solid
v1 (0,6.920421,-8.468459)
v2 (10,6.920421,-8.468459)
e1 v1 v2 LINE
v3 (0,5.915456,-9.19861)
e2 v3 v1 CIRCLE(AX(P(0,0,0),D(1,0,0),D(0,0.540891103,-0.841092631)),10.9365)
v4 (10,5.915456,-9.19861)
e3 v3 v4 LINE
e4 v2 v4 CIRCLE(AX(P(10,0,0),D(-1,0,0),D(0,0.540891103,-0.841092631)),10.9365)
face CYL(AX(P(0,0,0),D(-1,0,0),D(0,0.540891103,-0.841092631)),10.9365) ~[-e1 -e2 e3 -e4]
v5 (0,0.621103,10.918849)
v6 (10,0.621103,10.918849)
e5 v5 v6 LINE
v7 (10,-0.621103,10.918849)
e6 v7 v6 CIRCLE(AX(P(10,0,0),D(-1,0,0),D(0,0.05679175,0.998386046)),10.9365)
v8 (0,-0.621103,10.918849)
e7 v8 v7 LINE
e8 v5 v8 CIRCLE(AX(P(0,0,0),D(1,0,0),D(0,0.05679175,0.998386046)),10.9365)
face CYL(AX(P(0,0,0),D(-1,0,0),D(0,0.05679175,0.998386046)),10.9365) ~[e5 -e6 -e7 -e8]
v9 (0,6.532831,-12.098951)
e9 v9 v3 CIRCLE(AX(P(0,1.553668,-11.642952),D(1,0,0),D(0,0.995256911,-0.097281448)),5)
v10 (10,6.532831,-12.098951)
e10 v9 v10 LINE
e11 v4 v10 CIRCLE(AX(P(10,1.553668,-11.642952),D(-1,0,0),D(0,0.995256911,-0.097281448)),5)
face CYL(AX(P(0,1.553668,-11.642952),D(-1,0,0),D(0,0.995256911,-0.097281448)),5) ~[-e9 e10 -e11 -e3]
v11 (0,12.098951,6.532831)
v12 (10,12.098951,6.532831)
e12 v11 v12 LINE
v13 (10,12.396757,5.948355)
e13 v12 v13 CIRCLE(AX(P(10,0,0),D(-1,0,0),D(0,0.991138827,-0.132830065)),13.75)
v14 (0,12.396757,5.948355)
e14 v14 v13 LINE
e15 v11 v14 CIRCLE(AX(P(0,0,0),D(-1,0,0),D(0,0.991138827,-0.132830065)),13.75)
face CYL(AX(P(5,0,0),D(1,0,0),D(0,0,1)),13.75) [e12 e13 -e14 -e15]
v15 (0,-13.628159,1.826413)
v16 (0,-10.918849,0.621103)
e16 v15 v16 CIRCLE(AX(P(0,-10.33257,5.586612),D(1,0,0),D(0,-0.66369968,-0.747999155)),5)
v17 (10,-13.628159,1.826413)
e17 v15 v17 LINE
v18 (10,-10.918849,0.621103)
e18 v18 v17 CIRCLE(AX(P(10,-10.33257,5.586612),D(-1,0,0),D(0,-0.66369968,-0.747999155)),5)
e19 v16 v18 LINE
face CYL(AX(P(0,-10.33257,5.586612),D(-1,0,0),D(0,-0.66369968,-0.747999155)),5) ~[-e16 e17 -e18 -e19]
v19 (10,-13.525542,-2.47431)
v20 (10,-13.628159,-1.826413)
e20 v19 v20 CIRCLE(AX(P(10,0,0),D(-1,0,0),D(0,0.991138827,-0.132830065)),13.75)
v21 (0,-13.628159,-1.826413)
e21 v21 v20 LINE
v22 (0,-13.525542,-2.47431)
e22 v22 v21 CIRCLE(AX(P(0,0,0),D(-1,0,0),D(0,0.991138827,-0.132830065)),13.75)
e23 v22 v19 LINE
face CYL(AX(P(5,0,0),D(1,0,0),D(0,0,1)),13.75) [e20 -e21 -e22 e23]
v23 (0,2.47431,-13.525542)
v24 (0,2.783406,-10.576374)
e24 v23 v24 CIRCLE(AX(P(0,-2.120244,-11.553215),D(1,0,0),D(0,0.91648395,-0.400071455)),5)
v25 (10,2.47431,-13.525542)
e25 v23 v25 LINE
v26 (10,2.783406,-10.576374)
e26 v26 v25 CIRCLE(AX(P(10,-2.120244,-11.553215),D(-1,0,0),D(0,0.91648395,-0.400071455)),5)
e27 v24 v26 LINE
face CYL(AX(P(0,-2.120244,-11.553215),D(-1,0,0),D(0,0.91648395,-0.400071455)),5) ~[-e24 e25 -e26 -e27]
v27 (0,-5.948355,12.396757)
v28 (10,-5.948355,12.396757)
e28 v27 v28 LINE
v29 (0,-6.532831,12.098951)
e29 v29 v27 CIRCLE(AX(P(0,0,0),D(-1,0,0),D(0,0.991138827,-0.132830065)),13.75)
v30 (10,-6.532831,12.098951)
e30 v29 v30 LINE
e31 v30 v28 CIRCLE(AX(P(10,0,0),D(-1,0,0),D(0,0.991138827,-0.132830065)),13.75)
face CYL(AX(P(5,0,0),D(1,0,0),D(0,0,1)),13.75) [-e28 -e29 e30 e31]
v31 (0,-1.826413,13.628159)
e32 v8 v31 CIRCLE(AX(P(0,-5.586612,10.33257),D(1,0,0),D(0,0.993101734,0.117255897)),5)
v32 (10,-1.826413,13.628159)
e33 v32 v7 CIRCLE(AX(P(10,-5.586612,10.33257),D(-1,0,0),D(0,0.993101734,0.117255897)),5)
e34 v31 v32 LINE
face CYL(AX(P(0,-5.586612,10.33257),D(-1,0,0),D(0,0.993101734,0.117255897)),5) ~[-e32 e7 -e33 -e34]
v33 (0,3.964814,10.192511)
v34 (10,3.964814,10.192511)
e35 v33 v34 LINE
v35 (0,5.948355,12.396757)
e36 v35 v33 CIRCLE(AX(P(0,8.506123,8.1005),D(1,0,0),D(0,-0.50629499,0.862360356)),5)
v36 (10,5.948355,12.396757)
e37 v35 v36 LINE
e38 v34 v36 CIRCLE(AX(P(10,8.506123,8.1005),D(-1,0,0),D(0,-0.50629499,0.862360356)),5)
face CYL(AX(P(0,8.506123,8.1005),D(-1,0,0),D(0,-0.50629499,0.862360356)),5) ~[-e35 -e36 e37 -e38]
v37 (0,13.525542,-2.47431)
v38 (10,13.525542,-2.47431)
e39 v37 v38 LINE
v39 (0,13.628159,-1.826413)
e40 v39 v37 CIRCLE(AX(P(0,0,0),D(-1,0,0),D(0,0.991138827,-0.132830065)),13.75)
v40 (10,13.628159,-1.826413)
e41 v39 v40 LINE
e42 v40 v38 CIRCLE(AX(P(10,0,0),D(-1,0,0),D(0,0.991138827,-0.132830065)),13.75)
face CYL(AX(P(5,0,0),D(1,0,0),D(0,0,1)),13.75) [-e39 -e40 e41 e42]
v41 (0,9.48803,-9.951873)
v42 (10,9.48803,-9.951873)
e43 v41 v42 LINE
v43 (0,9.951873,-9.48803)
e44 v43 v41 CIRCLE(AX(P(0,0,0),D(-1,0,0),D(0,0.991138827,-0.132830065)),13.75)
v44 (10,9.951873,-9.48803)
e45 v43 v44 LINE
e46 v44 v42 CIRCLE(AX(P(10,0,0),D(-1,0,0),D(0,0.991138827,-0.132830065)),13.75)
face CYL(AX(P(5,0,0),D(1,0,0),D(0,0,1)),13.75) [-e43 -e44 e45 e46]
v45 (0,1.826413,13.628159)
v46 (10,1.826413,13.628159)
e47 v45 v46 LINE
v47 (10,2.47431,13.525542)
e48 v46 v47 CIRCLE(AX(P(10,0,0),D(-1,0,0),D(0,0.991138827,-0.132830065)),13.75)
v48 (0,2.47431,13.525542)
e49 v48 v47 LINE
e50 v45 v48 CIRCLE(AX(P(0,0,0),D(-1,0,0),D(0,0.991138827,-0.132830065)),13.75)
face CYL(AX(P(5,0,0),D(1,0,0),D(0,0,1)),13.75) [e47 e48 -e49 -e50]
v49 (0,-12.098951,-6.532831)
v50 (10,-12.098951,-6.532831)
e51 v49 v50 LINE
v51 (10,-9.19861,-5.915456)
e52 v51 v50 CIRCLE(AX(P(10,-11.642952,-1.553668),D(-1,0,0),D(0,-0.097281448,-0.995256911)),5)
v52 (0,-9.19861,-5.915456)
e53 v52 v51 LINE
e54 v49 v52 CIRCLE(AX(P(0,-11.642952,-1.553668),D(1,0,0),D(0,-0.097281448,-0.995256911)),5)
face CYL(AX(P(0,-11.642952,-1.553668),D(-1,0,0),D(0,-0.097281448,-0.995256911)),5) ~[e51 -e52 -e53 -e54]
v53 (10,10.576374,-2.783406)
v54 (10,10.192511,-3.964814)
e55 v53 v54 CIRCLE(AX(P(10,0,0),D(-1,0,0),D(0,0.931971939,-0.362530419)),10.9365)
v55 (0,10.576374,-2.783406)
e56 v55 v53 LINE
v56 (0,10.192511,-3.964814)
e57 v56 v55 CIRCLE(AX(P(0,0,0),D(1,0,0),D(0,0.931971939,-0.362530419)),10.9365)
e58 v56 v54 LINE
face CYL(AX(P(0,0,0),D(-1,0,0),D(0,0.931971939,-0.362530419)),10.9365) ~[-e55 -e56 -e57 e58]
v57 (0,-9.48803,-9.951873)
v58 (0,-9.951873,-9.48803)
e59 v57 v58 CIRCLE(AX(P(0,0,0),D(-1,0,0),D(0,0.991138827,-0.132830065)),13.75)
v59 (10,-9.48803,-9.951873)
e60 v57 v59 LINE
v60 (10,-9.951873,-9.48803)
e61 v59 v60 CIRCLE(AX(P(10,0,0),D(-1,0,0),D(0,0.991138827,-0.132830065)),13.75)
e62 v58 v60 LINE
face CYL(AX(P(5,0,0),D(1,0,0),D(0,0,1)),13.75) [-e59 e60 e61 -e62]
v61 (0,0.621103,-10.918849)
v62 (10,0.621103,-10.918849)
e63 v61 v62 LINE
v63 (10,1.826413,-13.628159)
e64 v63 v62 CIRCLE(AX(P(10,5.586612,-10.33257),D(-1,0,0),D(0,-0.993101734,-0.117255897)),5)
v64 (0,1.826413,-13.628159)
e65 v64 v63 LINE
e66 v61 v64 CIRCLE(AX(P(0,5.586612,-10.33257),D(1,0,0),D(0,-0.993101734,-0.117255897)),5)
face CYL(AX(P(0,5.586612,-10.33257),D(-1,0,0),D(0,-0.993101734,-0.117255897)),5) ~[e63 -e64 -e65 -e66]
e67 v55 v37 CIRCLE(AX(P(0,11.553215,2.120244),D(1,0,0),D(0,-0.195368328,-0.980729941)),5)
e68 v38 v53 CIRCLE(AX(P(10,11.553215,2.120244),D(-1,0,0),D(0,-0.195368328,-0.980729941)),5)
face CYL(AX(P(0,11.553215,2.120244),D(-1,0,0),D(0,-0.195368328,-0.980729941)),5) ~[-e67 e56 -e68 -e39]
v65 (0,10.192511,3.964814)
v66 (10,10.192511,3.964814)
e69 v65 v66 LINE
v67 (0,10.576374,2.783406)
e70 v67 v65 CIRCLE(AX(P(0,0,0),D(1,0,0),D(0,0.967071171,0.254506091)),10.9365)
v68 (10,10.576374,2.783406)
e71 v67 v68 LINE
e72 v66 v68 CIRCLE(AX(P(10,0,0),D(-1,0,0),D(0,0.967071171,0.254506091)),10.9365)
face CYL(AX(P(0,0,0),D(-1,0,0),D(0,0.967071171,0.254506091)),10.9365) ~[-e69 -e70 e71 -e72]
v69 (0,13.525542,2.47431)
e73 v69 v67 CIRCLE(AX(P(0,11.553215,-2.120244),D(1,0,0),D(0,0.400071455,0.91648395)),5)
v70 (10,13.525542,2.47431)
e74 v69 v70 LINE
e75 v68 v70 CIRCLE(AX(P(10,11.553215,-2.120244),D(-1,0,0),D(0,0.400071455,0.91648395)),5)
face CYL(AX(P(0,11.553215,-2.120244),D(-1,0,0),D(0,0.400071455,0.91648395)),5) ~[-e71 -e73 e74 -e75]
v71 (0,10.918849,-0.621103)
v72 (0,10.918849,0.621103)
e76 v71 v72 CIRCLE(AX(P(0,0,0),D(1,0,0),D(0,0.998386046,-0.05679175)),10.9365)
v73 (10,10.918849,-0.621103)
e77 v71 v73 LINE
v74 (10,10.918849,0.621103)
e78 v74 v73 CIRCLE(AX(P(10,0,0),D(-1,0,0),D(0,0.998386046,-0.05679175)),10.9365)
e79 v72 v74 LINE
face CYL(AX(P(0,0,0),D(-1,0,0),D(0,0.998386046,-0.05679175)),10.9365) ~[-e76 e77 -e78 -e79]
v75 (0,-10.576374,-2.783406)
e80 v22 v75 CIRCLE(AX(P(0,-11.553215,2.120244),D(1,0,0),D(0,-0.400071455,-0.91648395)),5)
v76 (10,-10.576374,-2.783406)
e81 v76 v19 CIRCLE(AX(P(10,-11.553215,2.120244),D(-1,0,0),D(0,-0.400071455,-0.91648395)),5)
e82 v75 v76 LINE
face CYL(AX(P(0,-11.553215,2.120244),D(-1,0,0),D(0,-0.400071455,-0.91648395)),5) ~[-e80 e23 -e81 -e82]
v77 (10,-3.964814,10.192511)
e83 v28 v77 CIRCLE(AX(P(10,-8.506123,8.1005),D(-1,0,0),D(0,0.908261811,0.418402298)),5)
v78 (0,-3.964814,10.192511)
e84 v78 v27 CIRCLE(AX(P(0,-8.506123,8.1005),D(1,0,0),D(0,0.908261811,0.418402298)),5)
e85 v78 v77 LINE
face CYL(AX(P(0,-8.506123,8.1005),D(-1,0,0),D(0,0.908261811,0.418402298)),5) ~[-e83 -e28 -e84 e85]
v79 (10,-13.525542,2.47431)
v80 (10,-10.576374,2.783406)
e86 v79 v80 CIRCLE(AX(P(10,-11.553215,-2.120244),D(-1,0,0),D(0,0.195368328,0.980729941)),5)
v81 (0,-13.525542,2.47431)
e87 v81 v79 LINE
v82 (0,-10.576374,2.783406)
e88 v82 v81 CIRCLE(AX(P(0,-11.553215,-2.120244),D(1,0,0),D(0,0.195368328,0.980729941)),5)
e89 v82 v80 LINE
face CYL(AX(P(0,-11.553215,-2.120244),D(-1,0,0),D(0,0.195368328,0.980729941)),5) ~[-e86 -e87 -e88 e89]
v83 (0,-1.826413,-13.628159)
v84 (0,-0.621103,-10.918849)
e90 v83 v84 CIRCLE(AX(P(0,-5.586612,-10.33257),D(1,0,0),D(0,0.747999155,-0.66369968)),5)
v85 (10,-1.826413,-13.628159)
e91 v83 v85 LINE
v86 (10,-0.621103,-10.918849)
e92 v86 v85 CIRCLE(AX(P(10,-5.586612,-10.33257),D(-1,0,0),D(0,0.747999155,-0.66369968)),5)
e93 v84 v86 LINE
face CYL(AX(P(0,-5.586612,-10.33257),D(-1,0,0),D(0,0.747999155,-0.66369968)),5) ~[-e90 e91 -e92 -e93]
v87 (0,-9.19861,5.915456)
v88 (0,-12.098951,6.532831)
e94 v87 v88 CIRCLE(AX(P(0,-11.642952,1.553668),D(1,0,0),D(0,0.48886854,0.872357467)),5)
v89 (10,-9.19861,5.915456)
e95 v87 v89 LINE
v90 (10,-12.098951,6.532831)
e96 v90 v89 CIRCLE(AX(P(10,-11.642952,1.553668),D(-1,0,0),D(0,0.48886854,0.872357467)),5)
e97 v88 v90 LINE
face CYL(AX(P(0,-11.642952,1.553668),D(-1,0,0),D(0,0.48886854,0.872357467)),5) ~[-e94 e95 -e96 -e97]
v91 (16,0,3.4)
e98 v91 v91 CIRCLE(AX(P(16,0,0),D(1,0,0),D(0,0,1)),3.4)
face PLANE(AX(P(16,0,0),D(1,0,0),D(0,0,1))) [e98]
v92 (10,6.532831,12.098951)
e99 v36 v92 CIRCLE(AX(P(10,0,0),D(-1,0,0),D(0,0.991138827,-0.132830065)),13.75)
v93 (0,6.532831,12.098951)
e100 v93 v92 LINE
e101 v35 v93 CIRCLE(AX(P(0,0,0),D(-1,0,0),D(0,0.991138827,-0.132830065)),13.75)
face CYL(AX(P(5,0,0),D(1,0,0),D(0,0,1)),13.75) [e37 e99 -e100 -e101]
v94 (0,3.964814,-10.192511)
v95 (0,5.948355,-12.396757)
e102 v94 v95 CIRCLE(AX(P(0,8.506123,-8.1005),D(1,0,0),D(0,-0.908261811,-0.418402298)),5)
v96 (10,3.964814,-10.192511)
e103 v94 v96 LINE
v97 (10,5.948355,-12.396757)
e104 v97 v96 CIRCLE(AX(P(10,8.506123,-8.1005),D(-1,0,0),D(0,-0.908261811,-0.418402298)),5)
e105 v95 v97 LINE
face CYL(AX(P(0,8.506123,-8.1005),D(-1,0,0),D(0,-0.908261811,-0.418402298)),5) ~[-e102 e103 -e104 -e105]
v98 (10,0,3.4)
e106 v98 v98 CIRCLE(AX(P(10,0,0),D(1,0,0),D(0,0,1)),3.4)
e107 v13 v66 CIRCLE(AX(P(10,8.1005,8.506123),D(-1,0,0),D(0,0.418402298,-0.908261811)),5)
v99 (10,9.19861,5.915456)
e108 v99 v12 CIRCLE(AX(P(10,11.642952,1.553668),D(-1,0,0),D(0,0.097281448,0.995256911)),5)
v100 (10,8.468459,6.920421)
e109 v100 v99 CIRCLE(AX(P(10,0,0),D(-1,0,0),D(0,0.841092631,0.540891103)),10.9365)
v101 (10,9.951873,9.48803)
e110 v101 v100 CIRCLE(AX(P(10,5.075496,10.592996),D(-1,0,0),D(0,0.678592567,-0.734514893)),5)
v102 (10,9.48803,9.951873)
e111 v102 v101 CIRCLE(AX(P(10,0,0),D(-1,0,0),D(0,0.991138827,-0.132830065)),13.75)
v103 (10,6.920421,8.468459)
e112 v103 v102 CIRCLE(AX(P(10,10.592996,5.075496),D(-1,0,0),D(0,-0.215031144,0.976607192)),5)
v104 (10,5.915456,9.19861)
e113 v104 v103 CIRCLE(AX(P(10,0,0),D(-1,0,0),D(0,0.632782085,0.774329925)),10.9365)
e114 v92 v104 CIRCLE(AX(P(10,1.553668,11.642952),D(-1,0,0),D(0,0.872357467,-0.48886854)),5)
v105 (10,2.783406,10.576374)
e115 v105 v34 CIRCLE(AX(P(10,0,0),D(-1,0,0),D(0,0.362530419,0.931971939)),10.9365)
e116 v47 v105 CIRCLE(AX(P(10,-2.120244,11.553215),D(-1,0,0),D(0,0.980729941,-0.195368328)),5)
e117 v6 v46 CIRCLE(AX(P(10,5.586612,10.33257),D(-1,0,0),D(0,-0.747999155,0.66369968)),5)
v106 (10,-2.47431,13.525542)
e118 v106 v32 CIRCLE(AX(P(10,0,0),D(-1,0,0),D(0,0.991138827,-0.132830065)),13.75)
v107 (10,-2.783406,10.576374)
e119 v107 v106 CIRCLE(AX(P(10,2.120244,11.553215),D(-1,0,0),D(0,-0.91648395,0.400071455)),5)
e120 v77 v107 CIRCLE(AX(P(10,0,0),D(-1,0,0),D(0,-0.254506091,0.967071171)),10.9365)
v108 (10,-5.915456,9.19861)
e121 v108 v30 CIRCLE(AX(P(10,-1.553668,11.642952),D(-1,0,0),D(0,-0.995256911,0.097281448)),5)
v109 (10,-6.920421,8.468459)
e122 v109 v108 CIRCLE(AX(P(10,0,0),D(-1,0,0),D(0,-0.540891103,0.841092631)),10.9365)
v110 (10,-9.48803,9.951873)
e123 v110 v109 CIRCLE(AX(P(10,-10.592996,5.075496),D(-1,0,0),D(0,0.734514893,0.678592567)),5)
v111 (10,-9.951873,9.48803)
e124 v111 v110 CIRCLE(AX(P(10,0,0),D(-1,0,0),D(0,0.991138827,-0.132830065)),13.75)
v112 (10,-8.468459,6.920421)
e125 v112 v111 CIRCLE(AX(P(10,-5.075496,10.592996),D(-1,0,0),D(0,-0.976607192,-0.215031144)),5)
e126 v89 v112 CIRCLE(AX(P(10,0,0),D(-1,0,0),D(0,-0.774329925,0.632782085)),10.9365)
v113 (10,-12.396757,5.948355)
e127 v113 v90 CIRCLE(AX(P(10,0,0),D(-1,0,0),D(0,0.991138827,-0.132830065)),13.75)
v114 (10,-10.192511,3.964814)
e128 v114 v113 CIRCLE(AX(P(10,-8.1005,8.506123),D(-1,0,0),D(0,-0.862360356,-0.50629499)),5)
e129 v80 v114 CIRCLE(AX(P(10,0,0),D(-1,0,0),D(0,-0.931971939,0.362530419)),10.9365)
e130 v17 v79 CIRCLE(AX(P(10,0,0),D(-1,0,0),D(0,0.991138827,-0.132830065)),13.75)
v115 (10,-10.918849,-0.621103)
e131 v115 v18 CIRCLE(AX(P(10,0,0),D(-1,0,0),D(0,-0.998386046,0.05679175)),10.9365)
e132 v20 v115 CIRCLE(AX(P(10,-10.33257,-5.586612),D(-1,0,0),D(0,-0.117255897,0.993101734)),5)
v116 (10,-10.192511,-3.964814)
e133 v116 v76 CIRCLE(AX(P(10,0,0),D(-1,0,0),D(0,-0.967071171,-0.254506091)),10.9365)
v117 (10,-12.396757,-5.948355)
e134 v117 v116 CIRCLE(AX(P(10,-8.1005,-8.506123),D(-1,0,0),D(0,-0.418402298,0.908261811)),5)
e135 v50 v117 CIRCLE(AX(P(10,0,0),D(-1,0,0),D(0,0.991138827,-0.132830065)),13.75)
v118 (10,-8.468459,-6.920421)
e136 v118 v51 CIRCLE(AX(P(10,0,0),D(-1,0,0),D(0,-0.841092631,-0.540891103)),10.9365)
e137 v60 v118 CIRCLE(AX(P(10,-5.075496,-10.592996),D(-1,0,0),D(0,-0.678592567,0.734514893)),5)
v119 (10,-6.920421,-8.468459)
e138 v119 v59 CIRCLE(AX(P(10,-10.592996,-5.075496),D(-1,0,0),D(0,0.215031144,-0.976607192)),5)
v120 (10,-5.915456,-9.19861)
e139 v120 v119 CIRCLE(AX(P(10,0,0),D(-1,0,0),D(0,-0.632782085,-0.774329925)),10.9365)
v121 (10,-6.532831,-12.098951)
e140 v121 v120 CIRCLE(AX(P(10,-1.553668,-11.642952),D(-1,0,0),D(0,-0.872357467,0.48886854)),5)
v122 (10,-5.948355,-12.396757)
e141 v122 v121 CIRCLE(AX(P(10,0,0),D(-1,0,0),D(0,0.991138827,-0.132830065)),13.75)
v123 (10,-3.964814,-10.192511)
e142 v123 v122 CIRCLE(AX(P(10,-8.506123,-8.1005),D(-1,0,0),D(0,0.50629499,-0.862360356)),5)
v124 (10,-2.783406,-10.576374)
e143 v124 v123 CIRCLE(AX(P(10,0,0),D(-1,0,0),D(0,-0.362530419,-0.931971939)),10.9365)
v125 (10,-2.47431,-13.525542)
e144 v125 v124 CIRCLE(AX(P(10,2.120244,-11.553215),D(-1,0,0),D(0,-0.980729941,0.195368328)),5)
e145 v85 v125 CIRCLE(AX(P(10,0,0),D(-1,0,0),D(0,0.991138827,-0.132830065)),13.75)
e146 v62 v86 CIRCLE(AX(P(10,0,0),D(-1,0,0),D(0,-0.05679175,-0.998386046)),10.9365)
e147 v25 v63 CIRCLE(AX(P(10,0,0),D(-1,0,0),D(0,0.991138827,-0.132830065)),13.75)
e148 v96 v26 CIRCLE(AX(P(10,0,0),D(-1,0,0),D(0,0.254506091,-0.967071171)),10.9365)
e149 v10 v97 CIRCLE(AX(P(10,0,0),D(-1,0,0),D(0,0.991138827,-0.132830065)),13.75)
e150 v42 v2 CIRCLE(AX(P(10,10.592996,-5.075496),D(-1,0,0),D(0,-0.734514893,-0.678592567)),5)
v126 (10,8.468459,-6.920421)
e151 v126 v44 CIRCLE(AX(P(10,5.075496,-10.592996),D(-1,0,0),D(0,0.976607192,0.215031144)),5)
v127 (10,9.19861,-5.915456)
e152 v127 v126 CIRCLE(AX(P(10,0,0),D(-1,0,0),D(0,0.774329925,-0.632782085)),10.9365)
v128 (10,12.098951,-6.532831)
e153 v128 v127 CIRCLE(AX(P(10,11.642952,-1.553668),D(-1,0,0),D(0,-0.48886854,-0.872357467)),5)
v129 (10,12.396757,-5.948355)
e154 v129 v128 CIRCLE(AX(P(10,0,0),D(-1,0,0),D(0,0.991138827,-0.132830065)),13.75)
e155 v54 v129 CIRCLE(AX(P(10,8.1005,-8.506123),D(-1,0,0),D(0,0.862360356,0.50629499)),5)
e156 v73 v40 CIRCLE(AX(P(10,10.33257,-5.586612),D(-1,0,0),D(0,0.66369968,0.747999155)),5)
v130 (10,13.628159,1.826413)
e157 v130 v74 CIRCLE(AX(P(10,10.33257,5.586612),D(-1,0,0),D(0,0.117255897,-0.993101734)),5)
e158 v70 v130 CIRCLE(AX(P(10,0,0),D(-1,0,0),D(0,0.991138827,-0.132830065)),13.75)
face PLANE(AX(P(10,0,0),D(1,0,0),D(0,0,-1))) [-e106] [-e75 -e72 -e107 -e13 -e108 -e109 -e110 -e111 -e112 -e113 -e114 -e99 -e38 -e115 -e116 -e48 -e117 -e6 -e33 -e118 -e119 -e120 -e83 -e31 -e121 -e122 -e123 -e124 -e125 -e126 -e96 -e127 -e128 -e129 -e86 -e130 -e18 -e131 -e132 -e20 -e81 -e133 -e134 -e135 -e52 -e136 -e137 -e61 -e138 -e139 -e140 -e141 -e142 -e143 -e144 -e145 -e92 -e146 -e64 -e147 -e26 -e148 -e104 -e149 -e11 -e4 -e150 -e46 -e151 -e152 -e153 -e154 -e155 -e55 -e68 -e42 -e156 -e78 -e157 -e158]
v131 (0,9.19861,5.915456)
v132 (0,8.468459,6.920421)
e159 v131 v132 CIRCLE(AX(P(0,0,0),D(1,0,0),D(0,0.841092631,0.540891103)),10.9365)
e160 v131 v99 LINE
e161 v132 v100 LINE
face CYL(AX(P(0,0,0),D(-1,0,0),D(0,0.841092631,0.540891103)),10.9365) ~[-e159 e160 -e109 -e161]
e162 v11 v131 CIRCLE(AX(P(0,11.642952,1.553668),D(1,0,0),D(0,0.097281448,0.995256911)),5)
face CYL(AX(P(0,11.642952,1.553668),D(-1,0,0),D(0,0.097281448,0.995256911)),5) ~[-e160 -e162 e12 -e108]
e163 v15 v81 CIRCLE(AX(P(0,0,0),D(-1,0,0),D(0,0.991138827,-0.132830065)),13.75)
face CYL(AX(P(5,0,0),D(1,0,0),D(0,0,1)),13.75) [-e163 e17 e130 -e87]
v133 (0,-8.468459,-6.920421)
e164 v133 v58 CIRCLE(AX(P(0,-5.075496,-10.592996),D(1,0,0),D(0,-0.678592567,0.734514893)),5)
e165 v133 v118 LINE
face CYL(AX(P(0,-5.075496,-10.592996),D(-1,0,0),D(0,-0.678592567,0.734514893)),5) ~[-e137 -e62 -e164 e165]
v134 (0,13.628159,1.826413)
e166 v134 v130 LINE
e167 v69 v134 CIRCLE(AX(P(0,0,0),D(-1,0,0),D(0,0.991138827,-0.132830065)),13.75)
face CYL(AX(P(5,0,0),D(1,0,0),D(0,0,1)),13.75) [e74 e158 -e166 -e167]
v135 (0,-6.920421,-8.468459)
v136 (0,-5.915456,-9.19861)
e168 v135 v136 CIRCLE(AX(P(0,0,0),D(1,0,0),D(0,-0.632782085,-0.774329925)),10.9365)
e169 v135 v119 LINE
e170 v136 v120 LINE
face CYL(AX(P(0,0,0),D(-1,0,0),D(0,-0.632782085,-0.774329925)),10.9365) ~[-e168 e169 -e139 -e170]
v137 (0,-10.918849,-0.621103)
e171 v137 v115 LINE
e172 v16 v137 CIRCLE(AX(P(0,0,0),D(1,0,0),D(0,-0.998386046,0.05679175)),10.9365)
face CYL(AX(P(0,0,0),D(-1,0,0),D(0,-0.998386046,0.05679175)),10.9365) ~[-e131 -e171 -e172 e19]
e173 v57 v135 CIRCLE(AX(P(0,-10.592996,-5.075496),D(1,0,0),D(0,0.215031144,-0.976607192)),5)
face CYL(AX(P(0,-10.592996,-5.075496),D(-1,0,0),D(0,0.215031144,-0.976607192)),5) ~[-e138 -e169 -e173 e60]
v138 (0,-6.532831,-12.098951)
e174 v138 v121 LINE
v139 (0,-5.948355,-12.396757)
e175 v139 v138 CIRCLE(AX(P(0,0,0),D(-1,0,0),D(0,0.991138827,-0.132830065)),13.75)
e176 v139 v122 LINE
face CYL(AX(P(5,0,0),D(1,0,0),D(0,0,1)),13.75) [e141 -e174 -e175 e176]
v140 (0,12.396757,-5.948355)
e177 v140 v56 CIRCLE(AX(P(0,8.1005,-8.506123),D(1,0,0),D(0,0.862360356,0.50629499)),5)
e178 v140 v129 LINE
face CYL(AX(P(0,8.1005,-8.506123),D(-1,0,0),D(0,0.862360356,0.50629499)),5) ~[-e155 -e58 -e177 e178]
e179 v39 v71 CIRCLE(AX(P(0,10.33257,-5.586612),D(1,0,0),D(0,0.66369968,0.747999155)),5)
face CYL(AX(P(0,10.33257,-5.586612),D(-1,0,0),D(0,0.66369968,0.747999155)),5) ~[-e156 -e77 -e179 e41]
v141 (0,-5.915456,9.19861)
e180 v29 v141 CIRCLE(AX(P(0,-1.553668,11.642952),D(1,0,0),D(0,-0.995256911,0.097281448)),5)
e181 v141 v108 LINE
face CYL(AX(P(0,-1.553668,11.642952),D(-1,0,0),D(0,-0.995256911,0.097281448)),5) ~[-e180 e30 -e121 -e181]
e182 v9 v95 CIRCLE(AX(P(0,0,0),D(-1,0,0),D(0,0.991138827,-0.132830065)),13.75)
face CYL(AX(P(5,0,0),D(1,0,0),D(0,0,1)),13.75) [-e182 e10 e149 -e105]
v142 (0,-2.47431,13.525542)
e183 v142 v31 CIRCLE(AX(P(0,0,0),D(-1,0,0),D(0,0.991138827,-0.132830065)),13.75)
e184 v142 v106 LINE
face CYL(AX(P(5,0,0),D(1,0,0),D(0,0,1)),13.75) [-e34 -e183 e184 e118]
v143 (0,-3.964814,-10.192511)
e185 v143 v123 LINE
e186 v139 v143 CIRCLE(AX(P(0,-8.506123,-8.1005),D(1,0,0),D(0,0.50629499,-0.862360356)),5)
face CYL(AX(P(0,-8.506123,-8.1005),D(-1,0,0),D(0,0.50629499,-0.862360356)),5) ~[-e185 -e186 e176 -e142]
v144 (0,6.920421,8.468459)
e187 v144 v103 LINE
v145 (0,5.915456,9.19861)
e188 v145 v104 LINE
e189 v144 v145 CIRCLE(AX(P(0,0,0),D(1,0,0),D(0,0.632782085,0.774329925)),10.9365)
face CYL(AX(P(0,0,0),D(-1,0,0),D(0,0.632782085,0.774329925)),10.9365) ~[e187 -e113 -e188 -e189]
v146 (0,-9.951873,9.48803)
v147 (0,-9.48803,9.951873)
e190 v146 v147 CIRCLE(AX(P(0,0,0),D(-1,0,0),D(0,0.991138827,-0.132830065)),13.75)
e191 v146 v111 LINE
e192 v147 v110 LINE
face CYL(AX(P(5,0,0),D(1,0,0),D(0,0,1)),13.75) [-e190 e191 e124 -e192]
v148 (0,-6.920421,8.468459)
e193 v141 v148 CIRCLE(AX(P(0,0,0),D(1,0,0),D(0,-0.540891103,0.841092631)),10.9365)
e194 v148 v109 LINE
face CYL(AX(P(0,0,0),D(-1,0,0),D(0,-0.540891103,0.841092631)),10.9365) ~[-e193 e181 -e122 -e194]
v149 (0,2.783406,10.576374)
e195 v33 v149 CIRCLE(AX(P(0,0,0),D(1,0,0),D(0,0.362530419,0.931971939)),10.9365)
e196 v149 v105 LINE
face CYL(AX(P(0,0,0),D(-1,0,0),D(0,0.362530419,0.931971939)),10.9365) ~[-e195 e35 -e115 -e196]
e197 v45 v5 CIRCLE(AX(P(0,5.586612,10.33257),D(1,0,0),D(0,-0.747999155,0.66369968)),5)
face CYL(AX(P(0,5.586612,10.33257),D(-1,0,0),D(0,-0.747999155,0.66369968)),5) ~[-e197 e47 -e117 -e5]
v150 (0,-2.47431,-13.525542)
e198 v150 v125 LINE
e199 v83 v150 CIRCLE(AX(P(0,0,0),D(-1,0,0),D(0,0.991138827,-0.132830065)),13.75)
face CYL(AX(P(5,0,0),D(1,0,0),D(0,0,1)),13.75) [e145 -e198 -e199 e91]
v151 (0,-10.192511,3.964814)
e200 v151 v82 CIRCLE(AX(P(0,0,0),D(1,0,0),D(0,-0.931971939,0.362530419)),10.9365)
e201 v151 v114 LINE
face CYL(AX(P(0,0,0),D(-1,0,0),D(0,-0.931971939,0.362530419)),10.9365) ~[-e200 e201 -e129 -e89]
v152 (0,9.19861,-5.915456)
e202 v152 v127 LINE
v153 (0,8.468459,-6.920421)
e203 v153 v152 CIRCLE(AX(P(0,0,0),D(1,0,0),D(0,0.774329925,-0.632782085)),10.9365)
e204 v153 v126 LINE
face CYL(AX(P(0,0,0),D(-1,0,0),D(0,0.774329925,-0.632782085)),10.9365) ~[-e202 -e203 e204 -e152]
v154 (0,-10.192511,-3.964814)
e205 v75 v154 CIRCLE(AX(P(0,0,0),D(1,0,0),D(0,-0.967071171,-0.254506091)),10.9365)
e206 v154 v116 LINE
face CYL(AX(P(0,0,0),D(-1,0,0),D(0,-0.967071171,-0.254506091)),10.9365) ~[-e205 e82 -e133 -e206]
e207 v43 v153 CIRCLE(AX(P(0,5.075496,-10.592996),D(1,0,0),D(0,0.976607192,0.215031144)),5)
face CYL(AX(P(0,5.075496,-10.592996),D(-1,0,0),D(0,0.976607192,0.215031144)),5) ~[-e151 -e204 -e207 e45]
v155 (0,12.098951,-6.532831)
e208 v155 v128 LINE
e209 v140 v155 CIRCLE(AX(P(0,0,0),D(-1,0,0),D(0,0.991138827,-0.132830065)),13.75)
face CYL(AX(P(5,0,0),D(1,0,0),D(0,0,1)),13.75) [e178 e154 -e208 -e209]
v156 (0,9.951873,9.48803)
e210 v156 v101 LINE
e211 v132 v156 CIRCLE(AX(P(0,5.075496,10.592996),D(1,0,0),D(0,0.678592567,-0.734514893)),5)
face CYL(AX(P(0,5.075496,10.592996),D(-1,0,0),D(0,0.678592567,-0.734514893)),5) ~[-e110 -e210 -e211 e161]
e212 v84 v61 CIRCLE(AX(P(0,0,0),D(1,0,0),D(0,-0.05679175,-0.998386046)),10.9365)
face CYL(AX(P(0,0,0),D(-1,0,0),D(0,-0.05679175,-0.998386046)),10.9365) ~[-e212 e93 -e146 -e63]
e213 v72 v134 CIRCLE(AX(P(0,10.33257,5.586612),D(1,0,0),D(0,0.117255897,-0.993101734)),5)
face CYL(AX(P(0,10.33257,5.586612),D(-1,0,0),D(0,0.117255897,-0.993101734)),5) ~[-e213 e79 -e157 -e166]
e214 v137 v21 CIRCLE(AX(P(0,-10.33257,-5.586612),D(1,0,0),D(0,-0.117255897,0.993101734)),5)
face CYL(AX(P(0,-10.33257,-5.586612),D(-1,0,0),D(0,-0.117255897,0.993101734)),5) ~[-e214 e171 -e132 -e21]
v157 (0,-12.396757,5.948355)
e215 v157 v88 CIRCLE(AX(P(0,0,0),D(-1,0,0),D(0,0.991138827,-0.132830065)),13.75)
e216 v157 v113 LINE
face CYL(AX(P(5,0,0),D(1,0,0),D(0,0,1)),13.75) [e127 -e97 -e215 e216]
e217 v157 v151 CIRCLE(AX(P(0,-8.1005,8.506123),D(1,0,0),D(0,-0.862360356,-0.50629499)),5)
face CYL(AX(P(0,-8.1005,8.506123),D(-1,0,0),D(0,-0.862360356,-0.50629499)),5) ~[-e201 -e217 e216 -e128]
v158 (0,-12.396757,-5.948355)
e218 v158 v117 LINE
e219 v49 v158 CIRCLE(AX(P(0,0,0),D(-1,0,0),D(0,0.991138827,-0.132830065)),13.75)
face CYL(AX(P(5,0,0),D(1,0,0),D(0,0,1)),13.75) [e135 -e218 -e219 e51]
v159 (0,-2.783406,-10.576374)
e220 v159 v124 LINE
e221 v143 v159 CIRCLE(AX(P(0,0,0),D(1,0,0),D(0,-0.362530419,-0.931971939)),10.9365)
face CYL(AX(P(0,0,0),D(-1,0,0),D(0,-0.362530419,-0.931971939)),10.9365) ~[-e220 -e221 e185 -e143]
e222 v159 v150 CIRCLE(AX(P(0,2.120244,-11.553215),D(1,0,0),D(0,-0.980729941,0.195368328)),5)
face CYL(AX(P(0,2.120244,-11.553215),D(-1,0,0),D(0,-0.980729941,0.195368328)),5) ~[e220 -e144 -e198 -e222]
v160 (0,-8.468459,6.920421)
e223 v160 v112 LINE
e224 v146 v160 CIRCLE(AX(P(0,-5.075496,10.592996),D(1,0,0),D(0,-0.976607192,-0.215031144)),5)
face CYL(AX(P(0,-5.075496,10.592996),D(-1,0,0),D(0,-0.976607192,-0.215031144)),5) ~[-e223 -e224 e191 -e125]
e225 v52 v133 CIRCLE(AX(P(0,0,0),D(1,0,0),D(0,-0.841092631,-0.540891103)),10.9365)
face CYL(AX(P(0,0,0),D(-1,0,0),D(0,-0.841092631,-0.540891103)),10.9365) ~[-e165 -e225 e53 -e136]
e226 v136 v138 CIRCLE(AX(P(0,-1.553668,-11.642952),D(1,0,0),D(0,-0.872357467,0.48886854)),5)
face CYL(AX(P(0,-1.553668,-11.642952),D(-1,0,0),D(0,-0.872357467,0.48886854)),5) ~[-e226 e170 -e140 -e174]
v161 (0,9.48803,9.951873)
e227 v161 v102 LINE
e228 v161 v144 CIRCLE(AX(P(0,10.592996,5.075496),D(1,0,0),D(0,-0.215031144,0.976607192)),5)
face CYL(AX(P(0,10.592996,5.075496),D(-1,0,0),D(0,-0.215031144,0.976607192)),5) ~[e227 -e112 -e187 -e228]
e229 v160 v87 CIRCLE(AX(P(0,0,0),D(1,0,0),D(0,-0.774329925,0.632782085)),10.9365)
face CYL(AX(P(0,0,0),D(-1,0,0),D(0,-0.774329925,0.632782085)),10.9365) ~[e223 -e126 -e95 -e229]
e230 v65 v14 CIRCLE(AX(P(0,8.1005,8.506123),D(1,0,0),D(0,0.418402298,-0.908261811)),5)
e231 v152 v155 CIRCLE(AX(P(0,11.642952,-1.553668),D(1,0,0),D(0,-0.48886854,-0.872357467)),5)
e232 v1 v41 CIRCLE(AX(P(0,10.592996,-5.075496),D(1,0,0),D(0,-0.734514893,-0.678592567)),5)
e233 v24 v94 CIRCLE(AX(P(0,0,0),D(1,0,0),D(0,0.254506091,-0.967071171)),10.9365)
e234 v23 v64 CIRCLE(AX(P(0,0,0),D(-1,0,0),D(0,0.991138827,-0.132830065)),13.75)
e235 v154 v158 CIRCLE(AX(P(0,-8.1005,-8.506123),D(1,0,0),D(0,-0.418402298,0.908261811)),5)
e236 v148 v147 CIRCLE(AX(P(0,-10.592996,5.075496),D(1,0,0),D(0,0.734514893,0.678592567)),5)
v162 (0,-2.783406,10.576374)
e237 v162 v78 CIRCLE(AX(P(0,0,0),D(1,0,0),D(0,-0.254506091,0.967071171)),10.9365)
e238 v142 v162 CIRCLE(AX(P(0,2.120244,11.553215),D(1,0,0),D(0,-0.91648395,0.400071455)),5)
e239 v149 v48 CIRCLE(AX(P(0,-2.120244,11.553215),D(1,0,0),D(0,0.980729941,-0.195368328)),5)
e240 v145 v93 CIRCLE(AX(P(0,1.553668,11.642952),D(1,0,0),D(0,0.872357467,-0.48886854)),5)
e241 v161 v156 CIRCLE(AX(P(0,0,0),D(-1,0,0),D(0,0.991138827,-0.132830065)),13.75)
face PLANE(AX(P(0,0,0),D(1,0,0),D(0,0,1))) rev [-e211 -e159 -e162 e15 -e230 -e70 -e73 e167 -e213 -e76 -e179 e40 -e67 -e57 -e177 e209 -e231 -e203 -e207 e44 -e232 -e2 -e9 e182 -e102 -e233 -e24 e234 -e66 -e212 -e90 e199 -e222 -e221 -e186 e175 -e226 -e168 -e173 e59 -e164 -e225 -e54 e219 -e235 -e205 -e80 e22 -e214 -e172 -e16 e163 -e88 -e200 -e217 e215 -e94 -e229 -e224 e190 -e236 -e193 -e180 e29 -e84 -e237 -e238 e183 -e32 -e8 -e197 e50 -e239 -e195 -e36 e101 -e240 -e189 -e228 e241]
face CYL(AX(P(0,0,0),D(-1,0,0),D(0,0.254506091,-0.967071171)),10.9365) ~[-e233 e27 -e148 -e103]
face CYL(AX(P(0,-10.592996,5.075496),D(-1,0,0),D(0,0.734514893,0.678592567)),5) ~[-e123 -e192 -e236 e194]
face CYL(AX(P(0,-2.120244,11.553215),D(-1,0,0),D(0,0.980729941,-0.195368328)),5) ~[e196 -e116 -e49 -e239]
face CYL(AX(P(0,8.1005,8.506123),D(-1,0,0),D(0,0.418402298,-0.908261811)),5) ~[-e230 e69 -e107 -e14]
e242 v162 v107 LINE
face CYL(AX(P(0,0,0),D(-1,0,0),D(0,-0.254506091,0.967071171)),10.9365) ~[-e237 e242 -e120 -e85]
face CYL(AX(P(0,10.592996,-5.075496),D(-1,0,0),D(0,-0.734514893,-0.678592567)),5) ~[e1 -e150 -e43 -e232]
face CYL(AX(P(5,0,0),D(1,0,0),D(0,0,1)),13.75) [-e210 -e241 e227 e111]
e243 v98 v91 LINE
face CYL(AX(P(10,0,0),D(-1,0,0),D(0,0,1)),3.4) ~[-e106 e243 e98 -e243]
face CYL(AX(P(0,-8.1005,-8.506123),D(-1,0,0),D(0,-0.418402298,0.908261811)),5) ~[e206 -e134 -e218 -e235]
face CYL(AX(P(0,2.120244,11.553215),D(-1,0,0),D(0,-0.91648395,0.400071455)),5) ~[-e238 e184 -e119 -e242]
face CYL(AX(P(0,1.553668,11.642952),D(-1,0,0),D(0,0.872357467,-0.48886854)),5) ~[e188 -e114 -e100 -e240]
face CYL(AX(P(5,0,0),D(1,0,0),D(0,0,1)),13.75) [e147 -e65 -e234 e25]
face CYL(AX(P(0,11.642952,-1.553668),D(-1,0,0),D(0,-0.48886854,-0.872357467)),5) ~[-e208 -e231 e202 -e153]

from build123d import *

# Parameters (mm, degrees)
BASPROSKE_W         = 10
BASPROSKE_H         = 13.75
TOOTHCUT_DEPTH      = 22.866069606
TEETHCUTS_COUNT     = 20
TEETHCUTS_ANGLE     = 342
BORSKE_R            = 2
BORE_DEPTH          = 50.0000508
SKETCH2_R           = 2
BOSS_EXTRUDE1_DEPTH = 10
SKETCH3_R           = 3.4
BOSS_EXTRUDE2_DEPTH = 6


with BuildPart() as part:
    # BasProSke → Base-Revolve (revolve)
    with BuildSketch(Plane(origin=(0, 0, 0), x_dir=(1, 0, 0), z_dir=(0, 1, 0)), mode=Mode.PRIVATE) as base_revolve_sk:
        with Locations((5, 6.875)):
            Rectangle(BASPROSKE_W, BASPROSKE_H)
    revolve(base_revolve_sk.sketch.rotate(Axis((-10, 0, 0), (1, 0, 0)), 180), axis=Axis((-10, 0, 0), (1, 0, 0)))

    # TooCutSke → ToothCut (cut, through all)
    with BuildSketch(Plane(origin=(0, 0, 0), x_dir=(0, 0, -1), z_dir=(1, 0, 0))):
        with BuildLine():
            ThreePointArc((0.62110296, 10.918848994), (0, 10.9365), (-0.62110296, 10.918848994))
            ThreePointArc((-0.62110296, 10.918848994), (-1.024517052, 12.378857135), (-1.846615859, 13.651067908))
            ThreePointArc((-1.846615859, 13.651067908), (0, 13.7754), (1.846615859, 13.651067908))
            ThreePointArc((1.846615859, 13.651067908), (1.024517052, 12.378857135), (0.62110296, 10.918848994))
        make_face()
    toothcut = extrude(amount=TOOTHCUT_DEPTH, mode=Mode.SUBTRACT)

    # TeethCuts: ToothCut ×20 about axis
    teethcuts_axis = Axis((-10, 0, 0), (1, 0, 0))
    for i in range(1, TEETHCUTS_COUNT):
        add(toothcut.rotate(teethcuts_axis, i * TEETHCUTS_ANGLE / (TEETHCUTS_COUNT - 1)), mode=Mode.SUBTRACT)

    # BorSke → Bore (cut, symmetric)
    with BuildSketch(Plane(origin=(0, 0, 0), x_dir=(0, 0, -1), z_dir=(1, 0, 0))):
        with Locations(Location((0, 0, 0), (0, 0, 180))):
            Circle(BORSKE_R)
    extrude(amount=BORE_DEPTH, both=True, mode=Mode.SUBTRACT)

    # Sketch2 → Boss-Extrude1 (add)
    with BuildSketch(Plane(origin=(10, 0, 0), x_dir=(0, 0, -1), z_dir=(1, 0, 0))):
        Circle(SKETCH2_R)
    extrude(amount=-BOSS_EXTRUDE1_DEPTH)

    # Sketch3 → Boss-Extrude2 (add)
    with BuildSketch(Plane(origin=(10, 0, 0), x_dir=(0, 0, -1), z_dir=(1, 0, 0))):
        with Locations(Location((0, 0, 0), (0, 0, 180))):
            Circle(SKETCH3_R)
    extrude(amount=BOSS_EXTRUDE2_DEPTH)


solid = part.part
